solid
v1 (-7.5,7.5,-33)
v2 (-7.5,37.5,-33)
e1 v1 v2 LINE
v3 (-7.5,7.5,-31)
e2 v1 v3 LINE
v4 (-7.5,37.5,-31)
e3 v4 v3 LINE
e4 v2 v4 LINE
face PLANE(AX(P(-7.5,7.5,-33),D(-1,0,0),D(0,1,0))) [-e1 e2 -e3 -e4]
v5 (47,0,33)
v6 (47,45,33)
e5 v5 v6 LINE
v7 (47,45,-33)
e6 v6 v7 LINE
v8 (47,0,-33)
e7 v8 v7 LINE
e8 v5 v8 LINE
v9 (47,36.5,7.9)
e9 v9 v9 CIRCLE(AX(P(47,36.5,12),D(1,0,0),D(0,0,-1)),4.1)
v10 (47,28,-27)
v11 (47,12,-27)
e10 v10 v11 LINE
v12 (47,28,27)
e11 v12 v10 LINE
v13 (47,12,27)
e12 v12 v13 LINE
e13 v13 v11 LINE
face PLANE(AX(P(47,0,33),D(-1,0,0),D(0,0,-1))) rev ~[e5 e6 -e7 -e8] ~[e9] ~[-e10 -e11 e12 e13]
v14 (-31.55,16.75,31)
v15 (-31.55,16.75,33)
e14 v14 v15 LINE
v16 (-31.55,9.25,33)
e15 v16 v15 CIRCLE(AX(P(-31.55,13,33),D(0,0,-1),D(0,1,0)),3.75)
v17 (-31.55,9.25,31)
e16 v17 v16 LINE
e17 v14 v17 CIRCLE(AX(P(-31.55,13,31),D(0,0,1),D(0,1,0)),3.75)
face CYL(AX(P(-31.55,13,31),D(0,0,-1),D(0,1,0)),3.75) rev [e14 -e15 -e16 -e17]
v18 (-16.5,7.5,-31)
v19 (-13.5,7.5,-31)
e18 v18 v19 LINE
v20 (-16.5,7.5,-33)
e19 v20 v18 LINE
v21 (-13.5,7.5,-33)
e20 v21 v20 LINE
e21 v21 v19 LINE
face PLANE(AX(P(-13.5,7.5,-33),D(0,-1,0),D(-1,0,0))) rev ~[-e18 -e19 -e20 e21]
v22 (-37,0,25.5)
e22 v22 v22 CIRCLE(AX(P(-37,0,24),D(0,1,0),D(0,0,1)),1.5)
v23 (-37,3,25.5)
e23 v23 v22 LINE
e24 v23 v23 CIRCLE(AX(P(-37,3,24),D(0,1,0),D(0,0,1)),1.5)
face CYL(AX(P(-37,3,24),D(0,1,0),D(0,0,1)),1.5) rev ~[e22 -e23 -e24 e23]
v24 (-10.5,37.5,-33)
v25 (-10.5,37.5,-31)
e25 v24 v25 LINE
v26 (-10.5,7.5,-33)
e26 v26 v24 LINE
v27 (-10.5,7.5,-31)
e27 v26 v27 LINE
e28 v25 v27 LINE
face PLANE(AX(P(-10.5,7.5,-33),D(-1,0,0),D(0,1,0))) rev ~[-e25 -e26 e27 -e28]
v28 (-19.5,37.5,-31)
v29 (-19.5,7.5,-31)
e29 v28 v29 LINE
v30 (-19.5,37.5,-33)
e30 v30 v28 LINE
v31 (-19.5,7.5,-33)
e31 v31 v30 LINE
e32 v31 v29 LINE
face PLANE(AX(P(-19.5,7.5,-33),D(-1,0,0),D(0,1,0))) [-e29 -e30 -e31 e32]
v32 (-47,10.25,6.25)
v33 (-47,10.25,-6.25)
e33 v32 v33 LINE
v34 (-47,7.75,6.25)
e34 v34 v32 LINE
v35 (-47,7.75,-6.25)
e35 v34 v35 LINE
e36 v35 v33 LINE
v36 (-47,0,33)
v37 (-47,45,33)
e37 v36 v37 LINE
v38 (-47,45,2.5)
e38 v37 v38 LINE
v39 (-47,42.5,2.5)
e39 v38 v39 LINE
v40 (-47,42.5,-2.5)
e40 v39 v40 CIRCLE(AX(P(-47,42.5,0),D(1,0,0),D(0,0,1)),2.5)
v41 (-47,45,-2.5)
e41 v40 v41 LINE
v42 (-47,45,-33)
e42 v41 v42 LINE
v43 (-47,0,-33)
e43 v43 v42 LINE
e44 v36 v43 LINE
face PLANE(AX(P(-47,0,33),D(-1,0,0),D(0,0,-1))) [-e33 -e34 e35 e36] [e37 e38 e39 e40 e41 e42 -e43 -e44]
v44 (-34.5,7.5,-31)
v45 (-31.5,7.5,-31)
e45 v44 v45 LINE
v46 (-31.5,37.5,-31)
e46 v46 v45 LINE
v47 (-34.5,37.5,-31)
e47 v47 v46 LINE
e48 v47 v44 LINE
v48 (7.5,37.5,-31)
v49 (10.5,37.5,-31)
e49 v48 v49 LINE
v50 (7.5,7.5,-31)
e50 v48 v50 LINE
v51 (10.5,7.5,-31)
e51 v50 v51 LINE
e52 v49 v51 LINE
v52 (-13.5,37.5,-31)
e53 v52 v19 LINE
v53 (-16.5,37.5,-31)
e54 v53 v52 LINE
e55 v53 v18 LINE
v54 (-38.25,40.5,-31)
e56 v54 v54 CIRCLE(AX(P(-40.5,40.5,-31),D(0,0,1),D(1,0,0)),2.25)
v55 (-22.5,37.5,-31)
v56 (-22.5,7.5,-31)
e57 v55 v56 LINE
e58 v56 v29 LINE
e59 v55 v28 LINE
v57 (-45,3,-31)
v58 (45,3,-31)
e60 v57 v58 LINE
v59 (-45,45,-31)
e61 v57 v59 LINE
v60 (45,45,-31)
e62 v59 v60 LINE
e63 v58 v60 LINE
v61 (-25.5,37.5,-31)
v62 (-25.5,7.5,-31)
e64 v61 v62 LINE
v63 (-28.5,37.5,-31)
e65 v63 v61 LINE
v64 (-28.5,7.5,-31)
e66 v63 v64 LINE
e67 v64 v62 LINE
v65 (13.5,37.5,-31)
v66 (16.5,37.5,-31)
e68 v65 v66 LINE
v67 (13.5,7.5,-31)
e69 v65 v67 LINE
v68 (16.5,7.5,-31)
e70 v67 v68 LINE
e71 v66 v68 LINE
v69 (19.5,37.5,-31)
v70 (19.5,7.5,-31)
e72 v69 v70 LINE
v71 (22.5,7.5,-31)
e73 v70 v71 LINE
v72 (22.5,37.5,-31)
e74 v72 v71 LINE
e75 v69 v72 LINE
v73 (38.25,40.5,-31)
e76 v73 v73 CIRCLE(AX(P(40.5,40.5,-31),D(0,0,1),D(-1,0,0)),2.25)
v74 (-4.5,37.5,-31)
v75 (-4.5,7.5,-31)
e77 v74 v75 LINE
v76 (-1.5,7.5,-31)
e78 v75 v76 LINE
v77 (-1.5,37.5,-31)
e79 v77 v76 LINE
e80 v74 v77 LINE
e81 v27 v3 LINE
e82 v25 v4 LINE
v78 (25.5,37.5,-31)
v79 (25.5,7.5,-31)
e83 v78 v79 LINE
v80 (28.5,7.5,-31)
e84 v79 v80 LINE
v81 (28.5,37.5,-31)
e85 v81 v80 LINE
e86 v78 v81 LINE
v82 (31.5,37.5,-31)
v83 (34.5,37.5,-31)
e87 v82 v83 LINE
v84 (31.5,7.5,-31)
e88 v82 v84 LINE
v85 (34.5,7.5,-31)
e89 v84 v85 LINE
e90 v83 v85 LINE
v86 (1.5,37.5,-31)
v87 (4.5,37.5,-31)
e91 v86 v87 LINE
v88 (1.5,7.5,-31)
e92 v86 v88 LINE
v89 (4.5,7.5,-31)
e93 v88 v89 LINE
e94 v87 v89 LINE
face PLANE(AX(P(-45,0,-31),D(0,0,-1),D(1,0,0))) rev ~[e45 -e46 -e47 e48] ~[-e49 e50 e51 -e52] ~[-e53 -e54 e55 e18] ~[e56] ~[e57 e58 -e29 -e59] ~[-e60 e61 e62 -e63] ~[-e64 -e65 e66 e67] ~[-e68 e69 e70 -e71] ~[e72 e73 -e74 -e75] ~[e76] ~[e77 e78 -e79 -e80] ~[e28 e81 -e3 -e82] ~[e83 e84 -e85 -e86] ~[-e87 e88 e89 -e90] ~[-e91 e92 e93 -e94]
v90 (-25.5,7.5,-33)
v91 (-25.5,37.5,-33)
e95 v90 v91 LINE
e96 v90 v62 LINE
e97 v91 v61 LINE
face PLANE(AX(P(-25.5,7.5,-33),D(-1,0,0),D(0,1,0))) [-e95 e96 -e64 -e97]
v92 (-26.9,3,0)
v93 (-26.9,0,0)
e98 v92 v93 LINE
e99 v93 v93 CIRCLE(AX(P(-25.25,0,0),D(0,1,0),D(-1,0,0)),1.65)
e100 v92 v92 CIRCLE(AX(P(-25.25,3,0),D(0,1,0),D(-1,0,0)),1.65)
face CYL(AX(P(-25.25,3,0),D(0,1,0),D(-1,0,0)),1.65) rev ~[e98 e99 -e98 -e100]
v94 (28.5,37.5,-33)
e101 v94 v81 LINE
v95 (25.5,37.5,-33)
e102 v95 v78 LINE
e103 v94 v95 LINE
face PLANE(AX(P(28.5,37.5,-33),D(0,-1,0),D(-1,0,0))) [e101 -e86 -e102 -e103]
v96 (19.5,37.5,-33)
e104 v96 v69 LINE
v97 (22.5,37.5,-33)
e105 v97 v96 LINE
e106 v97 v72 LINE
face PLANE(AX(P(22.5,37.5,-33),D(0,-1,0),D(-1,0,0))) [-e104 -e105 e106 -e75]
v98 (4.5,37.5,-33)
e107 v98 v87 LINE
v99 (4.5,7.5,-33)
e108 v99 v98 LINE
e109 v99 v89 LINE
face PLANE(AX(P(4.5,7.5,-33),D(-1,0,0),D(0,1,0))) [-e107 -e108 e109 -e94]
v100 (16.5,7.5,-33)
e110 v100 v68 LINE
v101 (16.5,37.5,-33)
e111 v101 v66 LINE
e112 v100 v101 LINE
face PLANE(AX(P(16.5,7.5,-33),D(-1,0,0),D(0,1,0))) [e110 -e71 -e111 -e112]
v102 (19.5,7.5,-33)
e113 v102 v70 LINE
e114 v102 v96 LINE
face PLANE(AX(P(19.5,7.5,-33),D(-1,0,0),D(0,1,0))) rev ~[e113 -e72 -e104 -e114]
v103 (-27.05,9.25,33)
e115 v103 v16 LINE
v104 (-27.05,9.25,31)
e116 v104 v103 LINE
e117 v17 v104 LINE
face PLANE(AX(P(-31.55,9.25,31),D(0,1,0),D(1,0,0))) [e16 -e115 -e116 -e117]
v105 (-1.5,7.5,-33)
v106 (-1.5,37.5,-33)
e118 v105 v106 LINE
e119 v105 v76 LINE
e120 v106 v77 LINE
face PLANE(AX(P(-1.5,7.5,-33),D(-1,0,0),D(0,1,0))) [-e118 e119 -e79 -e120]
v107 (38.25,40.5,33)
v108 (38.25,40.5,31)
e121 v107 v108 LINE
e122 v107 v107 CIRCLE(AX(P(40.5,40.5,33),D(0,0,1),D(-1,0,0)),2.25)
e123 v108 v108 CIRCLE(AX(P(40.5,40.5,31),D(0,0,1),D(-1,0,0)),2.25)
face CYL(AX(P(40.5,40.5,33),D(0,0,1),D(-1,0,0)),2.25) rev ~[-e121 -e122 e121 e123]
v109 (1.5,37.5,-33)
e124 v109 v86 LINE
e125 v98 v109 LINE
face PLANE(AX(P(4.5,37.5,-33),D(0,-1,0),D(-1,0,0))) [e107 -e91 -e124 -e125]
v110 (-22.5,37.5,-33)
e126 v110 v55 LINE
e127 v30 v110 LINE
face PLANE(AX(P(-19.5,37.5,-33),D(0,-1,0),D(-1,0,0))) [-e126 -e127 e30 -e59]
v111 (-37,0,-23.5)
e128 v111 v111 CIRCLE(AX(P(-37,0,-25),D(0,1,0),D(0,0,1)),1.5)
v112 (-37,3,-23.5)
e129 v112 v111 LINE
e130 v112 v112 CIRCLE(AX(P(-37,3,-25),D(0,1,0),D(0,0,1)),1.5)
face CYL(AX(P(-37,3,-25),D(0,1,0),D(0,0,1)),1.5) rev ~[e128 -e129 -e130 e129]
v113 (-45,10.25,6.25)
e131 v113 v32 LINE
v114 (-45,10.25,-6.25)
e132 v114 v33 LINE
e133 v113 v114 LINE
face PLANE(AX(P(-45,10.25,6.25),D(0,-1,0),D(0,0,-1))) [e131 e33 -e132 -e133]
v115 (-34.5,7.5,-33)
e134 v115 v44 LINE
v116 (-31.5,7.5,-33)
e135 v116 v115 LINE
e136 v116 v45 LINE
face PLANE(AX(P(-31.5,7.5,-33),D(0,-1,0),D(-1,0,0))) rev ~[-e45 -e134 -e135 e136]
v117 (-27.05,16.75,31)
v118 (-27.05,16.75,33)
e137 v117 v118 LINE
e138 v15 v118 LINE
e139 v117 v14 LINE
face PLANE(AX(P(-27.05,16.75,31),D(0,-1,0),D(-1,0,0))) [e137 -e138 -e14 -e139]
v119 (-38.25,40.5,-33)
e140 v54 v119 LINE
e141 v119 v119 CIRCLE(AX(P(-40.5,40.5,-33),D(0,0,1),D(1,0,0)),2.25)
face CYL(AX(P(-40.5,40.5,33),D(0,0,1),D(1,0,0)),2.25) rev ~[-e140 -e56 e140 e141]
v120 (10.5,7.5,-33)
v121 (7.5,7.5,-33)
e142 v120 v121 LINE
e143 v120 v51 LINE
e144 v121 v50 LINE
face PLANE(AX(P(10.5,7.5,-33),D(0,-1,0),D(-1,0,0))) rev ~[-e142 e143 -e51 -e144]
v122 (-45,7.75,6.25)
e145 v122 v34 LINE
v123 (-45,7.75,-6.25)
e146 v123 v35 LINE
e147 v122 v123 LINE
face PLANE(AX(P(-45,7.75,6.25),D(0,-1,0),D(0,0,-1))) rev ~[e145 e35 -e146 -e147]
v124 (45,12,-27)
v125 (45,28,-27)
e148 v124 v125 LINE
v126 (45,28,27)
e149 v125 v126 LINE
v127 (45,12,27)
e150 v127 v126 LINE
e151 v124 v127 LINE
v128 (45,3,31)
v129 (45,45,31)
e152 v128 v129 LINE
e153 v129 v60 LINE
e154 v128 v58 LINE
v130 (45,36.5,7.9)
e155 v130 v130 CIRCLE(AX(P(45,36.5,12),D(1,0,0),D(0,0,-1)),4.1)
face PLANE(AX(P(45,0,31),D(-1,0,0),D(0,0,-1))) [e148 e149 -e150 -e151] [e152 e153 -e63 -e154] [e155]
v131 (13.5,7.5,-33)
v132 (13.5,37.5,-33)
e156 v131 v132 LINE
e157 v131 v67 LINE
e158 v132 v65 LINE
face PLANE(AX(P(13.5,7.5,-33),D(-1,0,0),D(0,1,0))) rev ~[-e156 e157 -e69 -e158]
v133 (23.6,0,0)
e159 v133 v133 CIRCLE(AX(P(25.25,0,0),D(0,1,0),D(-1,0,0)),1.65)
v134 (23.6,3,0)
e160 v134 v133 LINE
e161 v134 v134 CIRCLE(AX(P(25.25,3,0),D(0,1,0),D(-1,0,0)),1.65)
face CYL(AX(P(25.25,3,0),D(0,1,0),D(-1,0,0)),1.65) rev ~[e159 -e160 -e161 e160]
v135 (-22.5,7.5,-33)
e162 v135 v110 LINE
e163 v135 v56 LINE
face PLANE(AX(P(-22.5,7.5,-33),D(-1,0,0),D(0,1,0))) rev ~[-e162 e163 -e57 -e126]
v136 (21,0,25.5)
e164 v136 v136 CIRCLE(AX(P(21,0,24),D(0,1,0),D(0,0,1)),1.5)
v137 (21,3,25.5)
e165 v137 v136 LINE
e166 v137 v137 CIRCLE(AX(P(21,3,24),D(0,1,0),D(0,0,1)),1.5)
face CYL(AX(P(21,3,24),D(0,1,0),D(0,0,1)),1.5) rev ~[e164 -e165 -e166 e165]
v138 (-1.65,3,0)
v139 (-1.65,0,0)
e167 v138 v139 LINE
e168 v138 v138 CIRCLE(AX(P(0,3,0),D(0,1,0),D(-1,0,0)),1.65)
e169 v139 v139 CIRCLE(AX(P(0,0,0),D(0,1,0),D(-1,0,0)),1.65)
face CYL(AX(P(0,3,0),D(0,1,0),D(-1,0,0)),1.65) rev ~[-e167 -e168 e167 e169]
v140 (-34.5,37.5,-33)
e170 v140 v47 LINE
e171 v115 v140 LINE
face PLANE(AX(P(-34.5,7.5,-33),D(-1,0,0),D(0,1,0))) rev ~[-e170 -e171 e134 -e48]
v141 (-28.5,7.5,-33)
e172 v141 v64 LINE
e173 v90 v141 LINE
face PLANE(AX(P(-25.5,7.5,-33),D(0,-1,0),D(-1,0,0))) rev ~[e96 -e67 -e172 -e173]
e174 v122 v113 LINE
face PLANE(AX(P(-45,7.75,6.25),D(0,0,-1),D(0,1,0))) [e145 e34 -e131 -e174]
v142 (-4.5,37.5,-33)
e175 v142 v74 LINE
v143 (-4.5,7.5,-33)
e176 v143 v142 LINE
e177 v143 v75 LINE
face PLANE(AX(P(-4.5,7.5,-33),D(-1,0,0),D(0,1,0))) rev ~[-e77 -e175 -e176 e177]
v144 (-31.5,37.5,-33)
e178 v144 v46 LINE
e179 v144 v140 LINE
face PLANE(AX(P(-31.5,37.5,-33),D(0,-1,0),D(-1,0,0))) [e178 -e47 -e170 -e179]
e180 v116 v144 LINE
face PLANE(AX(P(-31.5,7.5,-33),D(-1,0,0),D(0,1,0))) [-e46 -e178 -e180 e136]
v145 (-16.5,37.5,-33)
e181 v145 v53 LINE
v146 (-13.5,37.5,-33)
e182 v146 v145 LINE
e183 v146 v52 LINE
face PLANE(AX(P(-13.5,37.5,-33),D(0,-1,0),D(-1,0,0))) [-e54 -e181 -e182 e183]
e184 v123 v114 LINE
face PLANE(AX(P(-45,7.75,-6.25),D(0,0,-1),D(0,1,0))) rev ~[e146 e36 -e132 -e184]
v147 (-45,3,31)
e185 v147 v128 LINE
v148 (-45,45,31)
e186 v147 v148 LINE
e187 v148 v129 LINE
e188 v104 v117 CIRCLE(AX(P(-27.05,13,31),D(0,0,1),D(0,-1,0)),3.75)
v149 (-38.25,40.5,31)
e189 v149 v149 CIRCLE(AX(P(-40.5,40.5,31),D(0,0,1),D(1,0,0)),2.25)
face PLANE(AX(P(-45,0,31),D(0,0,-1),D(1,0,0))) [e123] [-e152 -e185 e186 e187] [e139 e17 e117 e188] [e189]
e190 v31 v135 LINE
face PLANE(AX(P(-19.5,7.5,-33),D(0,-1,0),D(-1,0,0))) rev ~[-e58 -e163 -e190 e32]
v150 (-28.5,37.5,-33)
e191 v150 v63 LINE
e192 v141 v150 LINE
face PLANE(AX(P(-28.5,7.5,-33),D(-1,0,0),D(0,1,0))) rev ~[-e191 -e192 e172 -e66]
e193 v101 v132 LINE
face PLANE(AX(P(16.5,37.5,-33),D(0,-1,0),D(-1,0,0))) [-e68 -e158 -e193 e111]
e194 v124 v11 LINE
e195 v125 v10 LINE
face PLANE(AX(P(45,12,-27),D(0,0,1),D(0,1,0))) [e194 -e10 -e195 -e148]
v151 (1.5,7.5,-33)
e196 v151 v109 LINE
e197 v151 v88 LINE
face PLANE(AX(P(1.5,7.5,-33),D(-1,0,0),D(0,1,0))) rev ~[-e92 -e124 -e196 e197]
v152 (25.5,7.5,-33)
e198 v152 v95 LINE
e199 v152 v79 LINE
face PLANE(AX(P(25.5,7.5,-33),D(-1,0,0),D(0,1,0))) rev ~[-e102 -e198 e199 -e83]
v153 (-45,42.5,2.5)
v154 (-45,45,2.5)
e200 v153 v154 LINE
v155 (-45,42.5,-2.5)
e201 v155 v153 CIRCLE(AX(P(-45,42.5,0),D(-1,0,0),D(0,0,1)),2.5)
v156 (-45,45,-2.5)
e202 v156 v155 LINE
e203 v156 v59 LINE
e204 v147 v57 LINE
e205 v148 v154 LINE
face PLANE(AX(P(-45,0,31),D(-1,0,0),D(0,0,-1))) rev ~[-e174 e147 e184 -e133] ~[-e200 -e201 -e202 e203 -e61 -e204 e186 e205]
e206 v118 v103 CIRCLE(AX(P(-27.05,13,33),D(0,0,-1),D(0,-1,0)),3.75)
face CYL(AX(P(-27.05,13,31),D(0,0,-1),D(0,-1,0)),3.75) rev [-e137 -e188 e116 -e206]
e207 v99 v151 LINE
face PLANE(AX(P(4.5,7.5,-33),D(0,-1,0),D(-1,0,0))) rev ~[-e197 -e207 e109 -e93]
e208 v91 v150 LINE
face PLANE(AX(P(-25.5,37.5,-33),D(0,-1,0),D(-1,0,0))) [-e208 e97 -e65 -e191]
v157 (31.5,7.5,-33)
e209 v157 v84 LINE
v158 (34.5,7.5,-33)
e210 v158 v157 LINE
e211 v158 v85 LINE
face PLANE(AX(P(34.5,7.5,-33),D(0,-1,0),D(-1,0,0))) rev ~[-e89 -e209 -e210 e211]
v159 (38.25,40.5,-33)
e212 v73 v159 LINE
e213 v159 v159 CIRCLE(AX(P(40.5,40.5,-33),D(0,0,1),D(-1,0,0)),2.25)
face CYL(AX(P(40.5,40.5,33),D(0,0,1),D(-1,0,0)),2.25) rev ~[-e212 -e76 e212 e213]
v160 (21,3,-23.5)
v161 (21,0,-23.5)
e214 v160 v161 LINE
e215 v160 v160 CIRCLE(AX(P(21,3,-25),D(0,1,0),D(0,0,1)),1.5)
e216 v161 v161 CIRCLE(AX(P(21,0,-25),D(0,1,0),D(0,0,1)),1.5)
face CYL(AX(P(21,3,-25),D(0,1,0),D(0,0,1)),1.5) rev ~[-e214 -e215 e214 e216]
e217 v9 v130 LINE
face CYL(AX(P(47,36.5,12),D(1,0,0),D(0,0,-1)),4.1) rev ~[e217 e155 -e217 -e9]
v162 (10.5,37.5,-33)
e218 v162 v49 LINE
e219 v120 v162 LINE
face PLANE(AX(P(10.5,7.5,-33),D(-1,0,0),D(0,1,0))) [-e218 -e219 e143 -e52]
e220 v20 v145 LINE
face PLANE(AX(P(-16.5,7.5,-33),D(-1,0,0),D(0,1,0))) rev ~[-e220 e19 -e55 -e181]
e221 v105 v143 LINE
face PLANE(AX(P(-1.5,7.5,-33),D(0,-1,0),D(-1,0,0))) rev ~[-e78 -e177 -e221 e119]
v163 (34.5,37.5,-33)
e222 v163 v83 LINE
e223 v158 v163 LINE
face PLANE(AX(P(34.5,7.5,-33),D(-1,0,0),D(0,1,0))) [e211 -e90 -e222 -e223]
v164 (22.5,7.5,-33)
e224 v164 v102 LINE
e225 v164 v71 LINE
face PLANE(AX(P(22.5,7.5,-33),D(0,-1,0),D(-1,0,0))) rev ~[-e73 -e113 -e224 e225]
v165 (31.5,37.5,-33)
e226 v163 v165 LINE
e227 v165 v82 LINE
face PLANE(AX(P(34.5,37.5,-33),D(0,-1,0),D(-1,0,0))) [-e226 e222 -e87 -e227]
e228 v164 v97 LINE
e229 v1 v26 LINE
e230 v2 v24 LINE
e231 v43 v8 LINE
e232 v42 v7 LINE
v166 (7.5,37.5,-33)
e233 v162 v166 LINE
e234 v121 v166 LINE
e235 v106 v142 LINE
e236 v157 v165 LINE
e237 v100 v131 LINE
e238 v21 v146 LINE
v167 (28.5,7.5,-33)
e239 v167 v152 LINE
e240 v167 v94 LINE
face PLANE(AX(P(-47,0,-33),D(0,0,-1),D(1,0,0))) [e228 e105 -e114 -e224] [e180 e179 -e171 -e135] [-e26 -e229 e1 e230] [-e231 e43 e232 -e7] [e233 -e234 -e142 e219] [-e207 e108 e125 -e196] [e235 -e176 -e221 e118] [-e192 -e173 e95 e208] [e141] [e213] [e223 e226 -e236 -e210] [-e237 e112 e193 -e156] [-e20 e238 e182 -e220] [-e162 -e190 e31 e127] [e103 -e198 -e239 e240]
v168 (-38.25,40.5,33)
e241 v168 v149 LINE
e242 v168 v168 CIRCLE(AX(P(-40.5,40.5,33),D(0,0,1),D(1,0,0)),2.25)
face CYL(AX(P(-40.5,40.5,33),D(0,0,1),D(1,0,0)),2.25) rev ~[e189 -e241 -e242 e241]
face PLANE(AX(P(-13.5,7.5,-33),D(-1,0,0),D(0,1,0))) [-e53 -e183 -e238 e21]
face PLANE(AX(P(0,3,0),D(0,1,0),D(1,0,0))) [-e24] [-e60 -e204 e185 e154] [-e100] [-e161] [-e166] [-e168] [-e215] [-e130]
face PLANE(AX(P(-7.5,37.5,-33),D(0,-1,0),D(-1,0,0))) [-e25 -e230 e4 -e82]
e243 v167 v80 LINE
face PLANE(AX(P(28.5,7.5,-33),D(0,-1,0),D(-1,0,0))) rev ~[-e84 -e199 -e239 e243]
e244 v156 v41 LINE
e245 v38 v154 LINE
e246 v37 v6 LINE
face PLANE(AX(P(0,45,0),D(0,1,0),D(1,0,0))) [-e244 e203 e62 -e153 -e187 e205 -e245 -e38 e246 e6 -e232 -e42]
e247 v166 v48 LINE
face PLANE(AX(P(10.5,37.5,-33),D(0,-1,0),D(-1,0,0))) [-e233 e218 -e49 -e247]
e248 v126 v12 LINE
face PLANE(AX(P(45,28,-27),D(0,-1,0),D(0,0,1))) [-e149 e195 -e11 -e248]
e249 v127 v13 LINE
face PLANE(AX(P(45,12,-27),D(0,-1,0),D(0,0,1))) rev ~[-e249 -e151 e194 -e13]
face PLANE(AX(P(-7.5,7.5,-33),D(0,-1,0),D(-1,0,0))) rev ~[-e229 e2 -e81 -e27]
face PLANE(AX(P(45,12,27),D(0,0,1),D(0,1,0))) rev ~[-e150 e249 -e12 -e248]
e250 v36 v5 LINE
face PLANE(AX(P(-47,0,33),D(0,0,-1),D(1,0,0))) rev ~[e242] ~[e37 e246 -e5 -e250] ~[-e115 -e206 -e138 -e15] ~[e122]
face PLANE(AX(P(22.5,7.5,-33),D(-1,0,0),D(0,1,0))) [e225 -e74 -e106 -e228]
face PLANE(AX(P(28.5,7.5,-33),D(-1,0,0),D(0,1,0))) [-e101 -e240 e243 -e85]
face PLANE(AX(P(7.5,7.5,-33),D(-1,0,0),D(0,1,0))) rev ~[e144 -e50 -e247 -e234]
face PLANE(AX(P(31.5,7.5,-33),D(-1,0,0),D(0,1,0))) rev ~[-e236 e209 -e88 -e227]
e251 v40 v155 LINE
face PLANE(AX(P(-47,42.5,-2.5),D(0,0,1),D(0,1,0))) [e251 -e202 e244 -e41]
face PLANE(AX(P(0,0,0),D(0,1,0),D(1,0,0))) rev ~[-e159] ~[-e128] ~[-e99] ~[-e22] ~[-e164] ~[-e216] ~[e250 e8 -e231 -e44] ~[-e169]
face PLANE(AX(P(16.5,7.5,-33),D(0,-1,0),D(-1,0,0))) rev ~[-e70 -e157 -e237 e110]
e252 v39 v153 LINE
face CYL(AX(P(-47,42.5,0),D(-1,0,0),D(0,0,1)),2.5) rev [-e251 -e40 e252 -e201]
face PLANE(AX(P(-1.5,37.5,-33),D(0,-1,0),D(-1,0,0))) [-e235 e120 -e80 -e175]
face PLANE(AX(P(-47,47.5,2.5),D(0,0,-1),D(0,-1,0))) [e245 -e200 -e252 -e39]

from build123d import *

# Parameters (mm, degrees)
SKETCH1_W           = 90
SKETCH1_H           = 62
BOSS_EXTRUDE1_DEPTH = 3
CUT_EXTRUDE1_REACH  = 56.727
SKETCH2_R           = 1.5
SKETCH3_W           = 94
SKETCH3_H           = 66
SKETCH3_W_2         = 90
SKETCH3_H_2         = 62
BOSS_EXTRUDE2_DEPTH = 45
CUT_EXTRUDE2_REACH  = 109.601
SKETCH4_W           = 12.5
SKETCH4_H           = 2.5
CUT_EXTRUDE3_REACH  = 93.269
CUT_EXTRUDE4_REACH  = 109.601
SKETCH6_W           = 54
SKETCH6_H           = 16
CUT_EXTRUDE5_REACH  = 111.316
SKETCH7_R           = 4.1
SKETCH8_R           = 2.25
CUT_EXTRUDE6_DEPTH  = 93.682252886
CUT_EXTRUDE7_DEPTH  = 72.147733625
CUT_EXTRUDE8_REACH  = 94.682
SKETCH10_W          = 3
SKETCH10_H          = 30
CUT_EXTRUDE9_REACH  = 111.316


with BuildPart() as part:
    # Sketch1 → Boss-Extrude1 (new body)
    with BuildSketch(Plane(origin=(0, 0, 0), x_dir=(1, 0, 0), z_dir=(0, 1, 0))):
        Rectangle(SKETCH1_W, SKETCH1_H)
    extrude(amount=BOSS_EXTRUDE1_DEPTH)

    # Sketch2 → Cut-Extrude1 (cut, up to next)
    with BuildSketch(Plane(origin=(0, 3, 0), x_dir=(1, 0, 0), z_dir=(0, 1, 0)), mode=Mode.PRIVATE) as cut_extrude1_sk1:
        with Locations(Location((-37, -24, 0), (0, 0, 270))):
            Circle(SKETCH2_R)
    cut_extrude1_tool1 = extrude(cut_extrude1_sk1.sketch, amount=-CUT_EXTRUDE1_REACH, mode=Mode.PRIVATE) & part.part
    # Sketch2 → Cut-Extrude1 (cut, up to next)
    with BuildSketch(Plane(origin=(0, 3, 0), x_dir=(1, 0, 0), z_dir=(0, 1, 0)), mode=Mode.PRIVATE) as cut_extrude1_sk2:
        with Locations(Location((21, -24, 0), (0, 0, 270))):
            Circle(SKETCH2_R)
    cut_extrude1_tool2 = extrude(cut_extrude1_sk2.sketch, amount=-CUT_EXTRUDE1_REACH, mode=Mode.PRIVATE) & part.part
    # Sketch2 → Cut-Extrude1 (cut, up to next)
    with BuildSketch(Plane(origin=(0, 3, 0), x_dir=(1, 0, 0), z_dir=(0, 1, 0)), mode=Mode.PRIVATE) as cut_extrude1_sk3:
        with Locations(Location((21, 25, 0), (0, 0, 270))):
            Circle(SKETCH2_R)
    cut_extrude1_tool3 = extrude(cut_extrude1_sk3.sketch, amount=-CUT_EXTRUDE1_REACH, mode=Mode.PRIVATE) & part.part
    # Sketch2 → Cut-Extrude1 (cut, up to next)
    with BuildSketch(Plane(origin=(0, 3, 0), x_dir=(1, 0, 0), z_dir=(0, 1, 0)), mode=Mode.PRIVATE) as cut_extrude1_sk4:
        with Locations(Location((-37, 25, 0), (0, 0, 270))):
            Circle(SKETCH2_R)
    cut_extrude1_tool4 = extrude(cut_extrude1_sk4.sketch, amount=-CUT_EXTRUDE1_REACH, mode=Mode.PRIVATE) & part.part
    add(cut_extrude1_tool1.solids().sort_by_distance((-37, 3, 24))[0], mode=Mode.SUBTRACT)
    add(cut_extrude1_tool2.solids().sort_by_distance((21, 3, 24))[0], mode=Mode.SUBTRACT)
    add(cut_extrude1_tool3.solids().sort_by_distance((21, 3, -25))[0], mode=Mode.SUBTRACT)
    add(cut_extrude1_tool4.solids().sort_by_distance((-37, 3, -25))[0], mode=Mode.SUBTRACT)

    # Sketch3 → Boss-Extrude2 (add)
    with BuildSketch(Plane(origin=(0, 0, 0), x_dir=(1, 0, 0), z_dir=(0, 1, 0))):
        Rectangle(SKETCH3_W, SKETCH3_H)
        Rectangle(SKETCH3_W_2, SKETCH3_H_2, mode=Mode.SUBTRACT)
    extrude(amount=BOSS_EXTRUDE2_DEPTH)

    # Sketch4 → Cut-Extrude2 (cut, up to next)
    with BuildSketch(Plane(origin=(-45, 0, 0), x_dir=(0, 0, -1), z_dir=(1, 0, 0)), mode=Mode.PRIVATE) as cut_extrude2_sk1:
        with Locations((0, 9)):
            Rectangle(SKETCH4_W, SKETCH4_H)
    cut_extrude2_tool1 = extrude(cut_extrude2_sk1.sketch, amount=-CUT_EXTRUDE2_REACH, mode=Mode.PRIVATE) & part.part
    add(cut_extrude2_tool1.solids().sort_by_distance((-45, 9, 0))[0], mode=Mode.SUBTRACT)

    # Sketch5 → Cut-Extrude3 (cut, up to next)
    with BuildSketch(Plane(origin=(0, 0, 31), x_dir=(-1, 0, 0), z_dir=(0, 0, -1)), mode=Mode.PRIVATE) as cut_extrude3_sk1:
        with BuildLine():
            Line((31.55, 9.25), (27.05, 9.25))
            ThreePointArc((27.05, 9.25), (23.3, 13), (27.05, 16.75))
            Line((27.05, 16.75), (31.55, 16.75))
            ThreePointArc((31.55, 16.75), (35.3, 13), (31.55, 9.25))
        make_face()
    cut_extrude3_tool1 = extrude(cut_extrude3_sk1.sketch, amount=-CUT_EXTRUDE3_REACH, mode=Mode.PRIVATE) & part.part
    add(cut_extrude3_tool1.solids().sort_by_distance((-29.3, 13, 31))[0], mode=Mode.SUBTRACT)

    # Sketch6 → Cut-Extrude4 (cut, up to next)
    with BuildSketch(Plane.ZY.offset(-45), mode=Mode.PRIVATE) as cut_extrude4_sk1:
        with Locations((0, 20)):
            Rectangle(SKETCH6_W, SKETCH6_H)
    cut_extrude4_tool1 = extrude(cut_extrude4_sk1.sketch, amount=-CUT_EXTRUDE4_REACH, mode=Mode.PRIVATE) & part.part
    add(cut_extrude4_tool1.solids().sort_by_distance((45, 20, 0))[0], mode=Mode.SUBTRACT)

    # Sketch7 → Cut-Extrude5 (cut, up to next)
    with BuildSketch(Plane(origin=(47, 0, 0), x_dir=(0, 0, -1), z_dir=(1, 0, 0)), mode=Mode.PRIVATE) as cut_extrude5_sk1:
        with Locations((-12, 36.5)):
            Circle(SKETCH7_R)
    cut_extrude5_tool1 = extrude(cut_extrude5_sk1.sketch, amount=-CUT_EXTRUDE5_REACH, mode=Mode.PRIVATE) & part.part
    add(cut_extrude5_tool1.solids().sort_by_distance((47, 36.5, 12))[0], mode=Mode.SUBTRACT)

    # Sketch8 → Cut-Extrude6 (cut, through all)
    with BuildSketch(Plane.XY.offset(33)):
        with Locations((-40.5, 40.5)):
            Circle(SKETCH8_R)
        with Locations(Location((40.5, 40.5, 0), (0, 0, 180))):
            Circle(SKETCH8_R)
    extrude(amount=-CUT_EXTRUDE6_DEPTH, mode=Mode.SUBTRACT)

    # Sketch9 → Cut-Extrude7 (cut, through all)
    with BuildSketch(Plane(origin=(0, 3, 0), x_dir=(1, 0, 0), z_dir=(0, 1, 0))):
        with BuildLine():
            ThreePointArc((-23.6, 0), (-25.25, 1.65), (-26.9, 0))
            Line((-26.9, 0), (-23.6, 0))
        make_face()
        with BuildLine():
            Line((-23.6, 0), (-26.9, 0))
            ThreePointArc((-26.9, 0), (-25.25, -1.65), (-23.6, 0))
        make_face()
        with BuildLine():
            ThreePointArc((1.65, 0), (0, 1.65), (-1.65, 0))
            Line((-1.65, 0), (1.65, 0))
        make_face()
        with BuildLine():
            Line((1.65, 0), (-1.65, 0))
            ThreePointArc((-1.65, 0), (0, -1.65), (1.65, 0))
        make_face()
        with BuildLine():
            ThreePointArc((26.9, 0), (25.25, 1.65), (23.6, 0))
            Line((23.6, 0), (26.9, 0))
        make_face()
        with BuildLine():
            Line((26.9, 0), (23.6, 0))
            ThreePointArc((23.6, 0), (25.25, -1.65), (26.9, 0))
        make_face()
    extrude(amount=-CUT_EXTRUDE7_DEPTH, mode=Mode.SUBTRACT)

    # Sketch10 → Cut-Extrude8 (cut, up to next)
    with BuildSketch(Plane(origin=(0, 0, -33), x_dir=(-1, 0, 0), z_dir=(0, 0, -1)), mode=Mode.PRIVATE) as cut_extrude8_sk1:
        with Locations((9, 22.5)):
            Rectangle(SKETCH10_W, SKETCH10_H)
    cut_extrude8_tool1 = extrude(cut_extrude8_sk1.sketch, amount=-CUT_EXTRUDE8_REACH, mode=Mode.PRIVATE) & part.part
    # Sketch10 → Cut-Extrude8 (cut, up to next)
    with BuildSketch(Plane(origin=(0, 0, -33), x_dir=(-1, 0, 0), z_dir=(0, 0, -1)), mode=Mode.PRIVATE) as cut_extrude8_sk2:
        with Locations((3, 22.5)):
            Rectangle(SKETCH10_W, SKETCH10_H)
    cut_extrude8_tool2 = extrude(cut_extrude8_sk2.sketch, amount=-CUT_EXTRUDE8_REACH, mode=Mode.PRIVATE) & part.part
    # Sketch10 → Cut-Extrude8 (cut, up to next)
    with BuildSketch(Plane(origin=(0, 0, -33), x_dir=(-1, 0, 0), z_dir=(0, 0, -1)), mode=Mode.PRIVATE) as cut_extrude8_sk3:
        with Locations((15, 22.5)):
            Rectangle(SKETCH10_W, SKETCH10_H)
    cut_extrude8_tool3 = extrude(cut_extrude8_sk3.sketch, amount=-CUT_EXTRUDE8_REACH, mode=Mode.PRIVATE) & part.part
    # Sketch10 → Cut-Extrude8 (cut, up to next)
    with BuildSketch(Plane(origin=(0, 0, -33), x_dir=(-1, 0, 0), z_dir=(0, 0, -1)), mode=Mode.PRIVATE) as cut_extrude8_sk4:
        with Locations((21, 22.5)):
            Rectangle(SKETCH10_W, SKETCH10_H)
    cut_extrude8_tool4 = extrude(cut_extrude8_sk4.sketch, amount=-CUT_EXTRUDE8_REACH, mode=Mode.PRIVATE) & part.part
    # Sketch10 → Cut-Extrude8 (cut, up to next)
    with BuildSketch(Plane(origin=(0, 0, -33), x_dir=(-1, 0, 0), z_dir=(0, 0, -1)), mode=Mode.PRIVATE) as cut_extrude8_sk5:
        with Locations((27, 22.5)):
            Rectangle(SKETCH10_W, SKETCH10_H)
    cut_extrude8_tool5 = extrude(cut_extrude8_sk5.sketch, amount=-CUT_EXTRUDE8_REACH, mode=Mode.PRIVATE) & part.part
    # Sketch10 → Cut-Extrude8 (cut, up to next)
    with BuildSketch(Plane(origin=(0, 0, -33), x_dir=(-1, 0, 0), z_dir=(0, 0, -1)), mode=Mode.PRIVATE) as cut_extrude8_sk6:
        with Locations((33, 22.5)):
            Rectangle(SKETCH10_W, SKETCH10_H)
    cut_extrude8_tool6 = extrude(cut_extrude8_sk6.sketch, amount=-CUT_EXTRUDE8_REACH, mode=Mode.PRIVATE) & part.part
    # Sketch10 → Cut-Extrude8 (cut, up to next)
    with BuildSketch(Plane(origin=(0, 0, -33), x_dir=(-1, 0, 0), z_dir=(0, 0, -1)), mode=Mode.PRIVATE) as cut_extrude8_sk7:
        with Locations((-3, 22.5)):
            Rectangle(SKETCH10_W, SKETCH10_H)
    cut_extrude8_tool7 = extrude(cut_extrude8_sk7.sketch, amount=-CUT_EXTRUDE8_REACH, mode=Mode.PRIVATE) & part.part
    # Sketch10 → Cut-Extrude8 (cut, up to next)
    with BuildSketch(Plane(origin=(0, 0, -33), x_dir=(-1, 0, 0), z_dir=(0, 0, -1)), mode=Mode.PRIVATE) as cut_extrude8_sk8:
        with Locations((-9, 22.5)):
            Rectangle(SKETCH10_W, SKETCH10_H)
    cut_extrude8_tool8 = extrude(cut_extrude8_sk8.sketch, amount=-CUT_EXTRUDE8_REACH, mode=Mode.PRIVATE) & part.part
    # Sketch10 → Cut-Extrude8 (cut, up to next)
    with BuildSketch(Plane(origin=(0, 0, -33), x_dir=(-1, 0, 0), z_dir=(0, 0, -1)), mode=Mode.PRIVATE) as cut_extrude8_sk9:
        with Locations((-15, 22.5)):
            Rectangle(SKETCH10_W, SKETCH10_H)
    cut_extrude8_tool9 = extrude(cut_extrude8_sk9.sketch, amount=-CUT_EXTRUDE8_REACH, mode=Mode.PRIVATE) & part.part
    # Sketch10 → Cut-Extrude8 (cut, up to next)
    with BuildSketch(Plane(origin=(0, 0, -33), x_dir=(-1, 0, 0), z_dir=(0, 0, -1)), mode=Mode.PRIVATE) as cut_extrude8_sk10:
        with Locations((-21, 22.5)):
            Rectangle(SKETCH10_W, SKETCH10_H)
    cut_extrude8_tool10 = extrude(cut_extrude8_sk10.sketch, amount=-CUT_EXTRUDE8_REACH, mode=Mode.PRIVATE) & part.part
    # Sketch10 → Cut-Extrude8 (cut, up to next)
    with BuildSketch(Plane(origin=(0, 0, -33), x_dir=(-1, 0, 0), z_dir=(0, 0, -1)), mode=Mode.PRIVATE) as cut_extrude8_sk11:
        with Locations((-27, 22.5)):
            Rectangle(SKETCH10_W, SKETCH10_H)
    cut_extrude8_tool11 = extrude(cut_extrude8_sk11.sketch, amount=-CUT_EXTRUDE8_REACH, mode=Mode.PRIVATE) & part.part
    # Sketch10 → Cut-Extrude8 (cut, up to next)
    with BuildSketch(Plane(origin=(0, 0, -33), x_dir=(-1, 0, 0), z_dir=(0, 0, -1)), mode=Mode.PRIVATE) as cut_extrude8_sk12:
        with Locations((-33, 22.5)):
            Rectangle(SKETCH10_W, SKETCH10_H)
    cut_extrude8_tool12 = extrude(cut_extrude8_sk12.sketch, amount=-CUT_EXTRUDE8_REACH, mode=Mode.PRIVATE) & part.part
    add(cut_extrude8_tool1.solids().sort_by_distance((-9, 22.5, -33))[0], mode=Mode.SUBTRACT)
    add(cut_extrude8_tool2.solids().sort_by_distance((-3, 22.5, -33))[0], mode=Mode.SUBTRACT)
    add(cut_extrude8_tool3.solids().sort_by_distance((-15, 22.5, -33))[0], mode=Mode.SUBTRACT)
    add(cut_extrude8_tool4.solids().sort_by_distance((-21, 22.5, -33))[0], mode=Mode.SUBTRACT)
    add(cut_extrude8_tool5.solids().sort_by_distance((-27, 22.5, -33))[0], mode=Mode.SUBTRACT)
    add(cut_extrude8_tool6.solids().sort_by_distance((-33, 22.5, -33))[0], mode=Mode.SUBTRACT)
    add(cut_extrude8_tool7.solids().sort_by_distance((3, 22.5, -33))[0], mode=Mode.SUBTRACT)
    add(cut_extrude8_tool8.solids().sort_by_distance((9, 22.5, -33))[0], mode=Mode.SUBTRACT)
    add(cut_extrude8_tool9.solids().sort_by_distance((15, 22.5, -33))[0], mode=Mode.SUBTRACT)
    add(cut_extrude8_tool10.solids().sort_by_distance((21, 22.5, -33))[0], mode=Mode.SUBTRACT)
    add(cut_extrude8_tool11.solids().sort_by_distance((27, 22.5, -33))[0], mode=Mode.SUBTRACT)
    add(cut_extrude8_tool12.solids().sort_by_distance((33, 22.5, -33))[0], mode=Mode.SUBTRACT)

    # Sketch11 → Cut-Extrude9 (cut, up to next)
    with BuildSketch(Plane.ZY.offset(47), mode=Mode.PRIVATE) as cut_extrude9_sk1:
        with BuildLine():
            Line((2.5, 47.5), (2.5, 42.5))
            ThreePointArc((2.5, 42.5), (0, 40), (-2.5, 42.5))
            Line((-2.5, 42.5), (-2.5, 47.5))
            ThreePointArc((-2.5, 47.5), (0, 50), (2.5, 47.5))
        make_face()
    cut_extrude9_tool1 = extrude(cut_extrude9_sk1.sketch, amount=-CUT_EXTRUDE9_REACH, mode=Mode.PRIVATE) & part.part
    add(cut_extrude9_tool1.solids().sort_by_distance((-47, 45, 0))[0], mode=Mode.SUBTRACT)


solid = part.part
